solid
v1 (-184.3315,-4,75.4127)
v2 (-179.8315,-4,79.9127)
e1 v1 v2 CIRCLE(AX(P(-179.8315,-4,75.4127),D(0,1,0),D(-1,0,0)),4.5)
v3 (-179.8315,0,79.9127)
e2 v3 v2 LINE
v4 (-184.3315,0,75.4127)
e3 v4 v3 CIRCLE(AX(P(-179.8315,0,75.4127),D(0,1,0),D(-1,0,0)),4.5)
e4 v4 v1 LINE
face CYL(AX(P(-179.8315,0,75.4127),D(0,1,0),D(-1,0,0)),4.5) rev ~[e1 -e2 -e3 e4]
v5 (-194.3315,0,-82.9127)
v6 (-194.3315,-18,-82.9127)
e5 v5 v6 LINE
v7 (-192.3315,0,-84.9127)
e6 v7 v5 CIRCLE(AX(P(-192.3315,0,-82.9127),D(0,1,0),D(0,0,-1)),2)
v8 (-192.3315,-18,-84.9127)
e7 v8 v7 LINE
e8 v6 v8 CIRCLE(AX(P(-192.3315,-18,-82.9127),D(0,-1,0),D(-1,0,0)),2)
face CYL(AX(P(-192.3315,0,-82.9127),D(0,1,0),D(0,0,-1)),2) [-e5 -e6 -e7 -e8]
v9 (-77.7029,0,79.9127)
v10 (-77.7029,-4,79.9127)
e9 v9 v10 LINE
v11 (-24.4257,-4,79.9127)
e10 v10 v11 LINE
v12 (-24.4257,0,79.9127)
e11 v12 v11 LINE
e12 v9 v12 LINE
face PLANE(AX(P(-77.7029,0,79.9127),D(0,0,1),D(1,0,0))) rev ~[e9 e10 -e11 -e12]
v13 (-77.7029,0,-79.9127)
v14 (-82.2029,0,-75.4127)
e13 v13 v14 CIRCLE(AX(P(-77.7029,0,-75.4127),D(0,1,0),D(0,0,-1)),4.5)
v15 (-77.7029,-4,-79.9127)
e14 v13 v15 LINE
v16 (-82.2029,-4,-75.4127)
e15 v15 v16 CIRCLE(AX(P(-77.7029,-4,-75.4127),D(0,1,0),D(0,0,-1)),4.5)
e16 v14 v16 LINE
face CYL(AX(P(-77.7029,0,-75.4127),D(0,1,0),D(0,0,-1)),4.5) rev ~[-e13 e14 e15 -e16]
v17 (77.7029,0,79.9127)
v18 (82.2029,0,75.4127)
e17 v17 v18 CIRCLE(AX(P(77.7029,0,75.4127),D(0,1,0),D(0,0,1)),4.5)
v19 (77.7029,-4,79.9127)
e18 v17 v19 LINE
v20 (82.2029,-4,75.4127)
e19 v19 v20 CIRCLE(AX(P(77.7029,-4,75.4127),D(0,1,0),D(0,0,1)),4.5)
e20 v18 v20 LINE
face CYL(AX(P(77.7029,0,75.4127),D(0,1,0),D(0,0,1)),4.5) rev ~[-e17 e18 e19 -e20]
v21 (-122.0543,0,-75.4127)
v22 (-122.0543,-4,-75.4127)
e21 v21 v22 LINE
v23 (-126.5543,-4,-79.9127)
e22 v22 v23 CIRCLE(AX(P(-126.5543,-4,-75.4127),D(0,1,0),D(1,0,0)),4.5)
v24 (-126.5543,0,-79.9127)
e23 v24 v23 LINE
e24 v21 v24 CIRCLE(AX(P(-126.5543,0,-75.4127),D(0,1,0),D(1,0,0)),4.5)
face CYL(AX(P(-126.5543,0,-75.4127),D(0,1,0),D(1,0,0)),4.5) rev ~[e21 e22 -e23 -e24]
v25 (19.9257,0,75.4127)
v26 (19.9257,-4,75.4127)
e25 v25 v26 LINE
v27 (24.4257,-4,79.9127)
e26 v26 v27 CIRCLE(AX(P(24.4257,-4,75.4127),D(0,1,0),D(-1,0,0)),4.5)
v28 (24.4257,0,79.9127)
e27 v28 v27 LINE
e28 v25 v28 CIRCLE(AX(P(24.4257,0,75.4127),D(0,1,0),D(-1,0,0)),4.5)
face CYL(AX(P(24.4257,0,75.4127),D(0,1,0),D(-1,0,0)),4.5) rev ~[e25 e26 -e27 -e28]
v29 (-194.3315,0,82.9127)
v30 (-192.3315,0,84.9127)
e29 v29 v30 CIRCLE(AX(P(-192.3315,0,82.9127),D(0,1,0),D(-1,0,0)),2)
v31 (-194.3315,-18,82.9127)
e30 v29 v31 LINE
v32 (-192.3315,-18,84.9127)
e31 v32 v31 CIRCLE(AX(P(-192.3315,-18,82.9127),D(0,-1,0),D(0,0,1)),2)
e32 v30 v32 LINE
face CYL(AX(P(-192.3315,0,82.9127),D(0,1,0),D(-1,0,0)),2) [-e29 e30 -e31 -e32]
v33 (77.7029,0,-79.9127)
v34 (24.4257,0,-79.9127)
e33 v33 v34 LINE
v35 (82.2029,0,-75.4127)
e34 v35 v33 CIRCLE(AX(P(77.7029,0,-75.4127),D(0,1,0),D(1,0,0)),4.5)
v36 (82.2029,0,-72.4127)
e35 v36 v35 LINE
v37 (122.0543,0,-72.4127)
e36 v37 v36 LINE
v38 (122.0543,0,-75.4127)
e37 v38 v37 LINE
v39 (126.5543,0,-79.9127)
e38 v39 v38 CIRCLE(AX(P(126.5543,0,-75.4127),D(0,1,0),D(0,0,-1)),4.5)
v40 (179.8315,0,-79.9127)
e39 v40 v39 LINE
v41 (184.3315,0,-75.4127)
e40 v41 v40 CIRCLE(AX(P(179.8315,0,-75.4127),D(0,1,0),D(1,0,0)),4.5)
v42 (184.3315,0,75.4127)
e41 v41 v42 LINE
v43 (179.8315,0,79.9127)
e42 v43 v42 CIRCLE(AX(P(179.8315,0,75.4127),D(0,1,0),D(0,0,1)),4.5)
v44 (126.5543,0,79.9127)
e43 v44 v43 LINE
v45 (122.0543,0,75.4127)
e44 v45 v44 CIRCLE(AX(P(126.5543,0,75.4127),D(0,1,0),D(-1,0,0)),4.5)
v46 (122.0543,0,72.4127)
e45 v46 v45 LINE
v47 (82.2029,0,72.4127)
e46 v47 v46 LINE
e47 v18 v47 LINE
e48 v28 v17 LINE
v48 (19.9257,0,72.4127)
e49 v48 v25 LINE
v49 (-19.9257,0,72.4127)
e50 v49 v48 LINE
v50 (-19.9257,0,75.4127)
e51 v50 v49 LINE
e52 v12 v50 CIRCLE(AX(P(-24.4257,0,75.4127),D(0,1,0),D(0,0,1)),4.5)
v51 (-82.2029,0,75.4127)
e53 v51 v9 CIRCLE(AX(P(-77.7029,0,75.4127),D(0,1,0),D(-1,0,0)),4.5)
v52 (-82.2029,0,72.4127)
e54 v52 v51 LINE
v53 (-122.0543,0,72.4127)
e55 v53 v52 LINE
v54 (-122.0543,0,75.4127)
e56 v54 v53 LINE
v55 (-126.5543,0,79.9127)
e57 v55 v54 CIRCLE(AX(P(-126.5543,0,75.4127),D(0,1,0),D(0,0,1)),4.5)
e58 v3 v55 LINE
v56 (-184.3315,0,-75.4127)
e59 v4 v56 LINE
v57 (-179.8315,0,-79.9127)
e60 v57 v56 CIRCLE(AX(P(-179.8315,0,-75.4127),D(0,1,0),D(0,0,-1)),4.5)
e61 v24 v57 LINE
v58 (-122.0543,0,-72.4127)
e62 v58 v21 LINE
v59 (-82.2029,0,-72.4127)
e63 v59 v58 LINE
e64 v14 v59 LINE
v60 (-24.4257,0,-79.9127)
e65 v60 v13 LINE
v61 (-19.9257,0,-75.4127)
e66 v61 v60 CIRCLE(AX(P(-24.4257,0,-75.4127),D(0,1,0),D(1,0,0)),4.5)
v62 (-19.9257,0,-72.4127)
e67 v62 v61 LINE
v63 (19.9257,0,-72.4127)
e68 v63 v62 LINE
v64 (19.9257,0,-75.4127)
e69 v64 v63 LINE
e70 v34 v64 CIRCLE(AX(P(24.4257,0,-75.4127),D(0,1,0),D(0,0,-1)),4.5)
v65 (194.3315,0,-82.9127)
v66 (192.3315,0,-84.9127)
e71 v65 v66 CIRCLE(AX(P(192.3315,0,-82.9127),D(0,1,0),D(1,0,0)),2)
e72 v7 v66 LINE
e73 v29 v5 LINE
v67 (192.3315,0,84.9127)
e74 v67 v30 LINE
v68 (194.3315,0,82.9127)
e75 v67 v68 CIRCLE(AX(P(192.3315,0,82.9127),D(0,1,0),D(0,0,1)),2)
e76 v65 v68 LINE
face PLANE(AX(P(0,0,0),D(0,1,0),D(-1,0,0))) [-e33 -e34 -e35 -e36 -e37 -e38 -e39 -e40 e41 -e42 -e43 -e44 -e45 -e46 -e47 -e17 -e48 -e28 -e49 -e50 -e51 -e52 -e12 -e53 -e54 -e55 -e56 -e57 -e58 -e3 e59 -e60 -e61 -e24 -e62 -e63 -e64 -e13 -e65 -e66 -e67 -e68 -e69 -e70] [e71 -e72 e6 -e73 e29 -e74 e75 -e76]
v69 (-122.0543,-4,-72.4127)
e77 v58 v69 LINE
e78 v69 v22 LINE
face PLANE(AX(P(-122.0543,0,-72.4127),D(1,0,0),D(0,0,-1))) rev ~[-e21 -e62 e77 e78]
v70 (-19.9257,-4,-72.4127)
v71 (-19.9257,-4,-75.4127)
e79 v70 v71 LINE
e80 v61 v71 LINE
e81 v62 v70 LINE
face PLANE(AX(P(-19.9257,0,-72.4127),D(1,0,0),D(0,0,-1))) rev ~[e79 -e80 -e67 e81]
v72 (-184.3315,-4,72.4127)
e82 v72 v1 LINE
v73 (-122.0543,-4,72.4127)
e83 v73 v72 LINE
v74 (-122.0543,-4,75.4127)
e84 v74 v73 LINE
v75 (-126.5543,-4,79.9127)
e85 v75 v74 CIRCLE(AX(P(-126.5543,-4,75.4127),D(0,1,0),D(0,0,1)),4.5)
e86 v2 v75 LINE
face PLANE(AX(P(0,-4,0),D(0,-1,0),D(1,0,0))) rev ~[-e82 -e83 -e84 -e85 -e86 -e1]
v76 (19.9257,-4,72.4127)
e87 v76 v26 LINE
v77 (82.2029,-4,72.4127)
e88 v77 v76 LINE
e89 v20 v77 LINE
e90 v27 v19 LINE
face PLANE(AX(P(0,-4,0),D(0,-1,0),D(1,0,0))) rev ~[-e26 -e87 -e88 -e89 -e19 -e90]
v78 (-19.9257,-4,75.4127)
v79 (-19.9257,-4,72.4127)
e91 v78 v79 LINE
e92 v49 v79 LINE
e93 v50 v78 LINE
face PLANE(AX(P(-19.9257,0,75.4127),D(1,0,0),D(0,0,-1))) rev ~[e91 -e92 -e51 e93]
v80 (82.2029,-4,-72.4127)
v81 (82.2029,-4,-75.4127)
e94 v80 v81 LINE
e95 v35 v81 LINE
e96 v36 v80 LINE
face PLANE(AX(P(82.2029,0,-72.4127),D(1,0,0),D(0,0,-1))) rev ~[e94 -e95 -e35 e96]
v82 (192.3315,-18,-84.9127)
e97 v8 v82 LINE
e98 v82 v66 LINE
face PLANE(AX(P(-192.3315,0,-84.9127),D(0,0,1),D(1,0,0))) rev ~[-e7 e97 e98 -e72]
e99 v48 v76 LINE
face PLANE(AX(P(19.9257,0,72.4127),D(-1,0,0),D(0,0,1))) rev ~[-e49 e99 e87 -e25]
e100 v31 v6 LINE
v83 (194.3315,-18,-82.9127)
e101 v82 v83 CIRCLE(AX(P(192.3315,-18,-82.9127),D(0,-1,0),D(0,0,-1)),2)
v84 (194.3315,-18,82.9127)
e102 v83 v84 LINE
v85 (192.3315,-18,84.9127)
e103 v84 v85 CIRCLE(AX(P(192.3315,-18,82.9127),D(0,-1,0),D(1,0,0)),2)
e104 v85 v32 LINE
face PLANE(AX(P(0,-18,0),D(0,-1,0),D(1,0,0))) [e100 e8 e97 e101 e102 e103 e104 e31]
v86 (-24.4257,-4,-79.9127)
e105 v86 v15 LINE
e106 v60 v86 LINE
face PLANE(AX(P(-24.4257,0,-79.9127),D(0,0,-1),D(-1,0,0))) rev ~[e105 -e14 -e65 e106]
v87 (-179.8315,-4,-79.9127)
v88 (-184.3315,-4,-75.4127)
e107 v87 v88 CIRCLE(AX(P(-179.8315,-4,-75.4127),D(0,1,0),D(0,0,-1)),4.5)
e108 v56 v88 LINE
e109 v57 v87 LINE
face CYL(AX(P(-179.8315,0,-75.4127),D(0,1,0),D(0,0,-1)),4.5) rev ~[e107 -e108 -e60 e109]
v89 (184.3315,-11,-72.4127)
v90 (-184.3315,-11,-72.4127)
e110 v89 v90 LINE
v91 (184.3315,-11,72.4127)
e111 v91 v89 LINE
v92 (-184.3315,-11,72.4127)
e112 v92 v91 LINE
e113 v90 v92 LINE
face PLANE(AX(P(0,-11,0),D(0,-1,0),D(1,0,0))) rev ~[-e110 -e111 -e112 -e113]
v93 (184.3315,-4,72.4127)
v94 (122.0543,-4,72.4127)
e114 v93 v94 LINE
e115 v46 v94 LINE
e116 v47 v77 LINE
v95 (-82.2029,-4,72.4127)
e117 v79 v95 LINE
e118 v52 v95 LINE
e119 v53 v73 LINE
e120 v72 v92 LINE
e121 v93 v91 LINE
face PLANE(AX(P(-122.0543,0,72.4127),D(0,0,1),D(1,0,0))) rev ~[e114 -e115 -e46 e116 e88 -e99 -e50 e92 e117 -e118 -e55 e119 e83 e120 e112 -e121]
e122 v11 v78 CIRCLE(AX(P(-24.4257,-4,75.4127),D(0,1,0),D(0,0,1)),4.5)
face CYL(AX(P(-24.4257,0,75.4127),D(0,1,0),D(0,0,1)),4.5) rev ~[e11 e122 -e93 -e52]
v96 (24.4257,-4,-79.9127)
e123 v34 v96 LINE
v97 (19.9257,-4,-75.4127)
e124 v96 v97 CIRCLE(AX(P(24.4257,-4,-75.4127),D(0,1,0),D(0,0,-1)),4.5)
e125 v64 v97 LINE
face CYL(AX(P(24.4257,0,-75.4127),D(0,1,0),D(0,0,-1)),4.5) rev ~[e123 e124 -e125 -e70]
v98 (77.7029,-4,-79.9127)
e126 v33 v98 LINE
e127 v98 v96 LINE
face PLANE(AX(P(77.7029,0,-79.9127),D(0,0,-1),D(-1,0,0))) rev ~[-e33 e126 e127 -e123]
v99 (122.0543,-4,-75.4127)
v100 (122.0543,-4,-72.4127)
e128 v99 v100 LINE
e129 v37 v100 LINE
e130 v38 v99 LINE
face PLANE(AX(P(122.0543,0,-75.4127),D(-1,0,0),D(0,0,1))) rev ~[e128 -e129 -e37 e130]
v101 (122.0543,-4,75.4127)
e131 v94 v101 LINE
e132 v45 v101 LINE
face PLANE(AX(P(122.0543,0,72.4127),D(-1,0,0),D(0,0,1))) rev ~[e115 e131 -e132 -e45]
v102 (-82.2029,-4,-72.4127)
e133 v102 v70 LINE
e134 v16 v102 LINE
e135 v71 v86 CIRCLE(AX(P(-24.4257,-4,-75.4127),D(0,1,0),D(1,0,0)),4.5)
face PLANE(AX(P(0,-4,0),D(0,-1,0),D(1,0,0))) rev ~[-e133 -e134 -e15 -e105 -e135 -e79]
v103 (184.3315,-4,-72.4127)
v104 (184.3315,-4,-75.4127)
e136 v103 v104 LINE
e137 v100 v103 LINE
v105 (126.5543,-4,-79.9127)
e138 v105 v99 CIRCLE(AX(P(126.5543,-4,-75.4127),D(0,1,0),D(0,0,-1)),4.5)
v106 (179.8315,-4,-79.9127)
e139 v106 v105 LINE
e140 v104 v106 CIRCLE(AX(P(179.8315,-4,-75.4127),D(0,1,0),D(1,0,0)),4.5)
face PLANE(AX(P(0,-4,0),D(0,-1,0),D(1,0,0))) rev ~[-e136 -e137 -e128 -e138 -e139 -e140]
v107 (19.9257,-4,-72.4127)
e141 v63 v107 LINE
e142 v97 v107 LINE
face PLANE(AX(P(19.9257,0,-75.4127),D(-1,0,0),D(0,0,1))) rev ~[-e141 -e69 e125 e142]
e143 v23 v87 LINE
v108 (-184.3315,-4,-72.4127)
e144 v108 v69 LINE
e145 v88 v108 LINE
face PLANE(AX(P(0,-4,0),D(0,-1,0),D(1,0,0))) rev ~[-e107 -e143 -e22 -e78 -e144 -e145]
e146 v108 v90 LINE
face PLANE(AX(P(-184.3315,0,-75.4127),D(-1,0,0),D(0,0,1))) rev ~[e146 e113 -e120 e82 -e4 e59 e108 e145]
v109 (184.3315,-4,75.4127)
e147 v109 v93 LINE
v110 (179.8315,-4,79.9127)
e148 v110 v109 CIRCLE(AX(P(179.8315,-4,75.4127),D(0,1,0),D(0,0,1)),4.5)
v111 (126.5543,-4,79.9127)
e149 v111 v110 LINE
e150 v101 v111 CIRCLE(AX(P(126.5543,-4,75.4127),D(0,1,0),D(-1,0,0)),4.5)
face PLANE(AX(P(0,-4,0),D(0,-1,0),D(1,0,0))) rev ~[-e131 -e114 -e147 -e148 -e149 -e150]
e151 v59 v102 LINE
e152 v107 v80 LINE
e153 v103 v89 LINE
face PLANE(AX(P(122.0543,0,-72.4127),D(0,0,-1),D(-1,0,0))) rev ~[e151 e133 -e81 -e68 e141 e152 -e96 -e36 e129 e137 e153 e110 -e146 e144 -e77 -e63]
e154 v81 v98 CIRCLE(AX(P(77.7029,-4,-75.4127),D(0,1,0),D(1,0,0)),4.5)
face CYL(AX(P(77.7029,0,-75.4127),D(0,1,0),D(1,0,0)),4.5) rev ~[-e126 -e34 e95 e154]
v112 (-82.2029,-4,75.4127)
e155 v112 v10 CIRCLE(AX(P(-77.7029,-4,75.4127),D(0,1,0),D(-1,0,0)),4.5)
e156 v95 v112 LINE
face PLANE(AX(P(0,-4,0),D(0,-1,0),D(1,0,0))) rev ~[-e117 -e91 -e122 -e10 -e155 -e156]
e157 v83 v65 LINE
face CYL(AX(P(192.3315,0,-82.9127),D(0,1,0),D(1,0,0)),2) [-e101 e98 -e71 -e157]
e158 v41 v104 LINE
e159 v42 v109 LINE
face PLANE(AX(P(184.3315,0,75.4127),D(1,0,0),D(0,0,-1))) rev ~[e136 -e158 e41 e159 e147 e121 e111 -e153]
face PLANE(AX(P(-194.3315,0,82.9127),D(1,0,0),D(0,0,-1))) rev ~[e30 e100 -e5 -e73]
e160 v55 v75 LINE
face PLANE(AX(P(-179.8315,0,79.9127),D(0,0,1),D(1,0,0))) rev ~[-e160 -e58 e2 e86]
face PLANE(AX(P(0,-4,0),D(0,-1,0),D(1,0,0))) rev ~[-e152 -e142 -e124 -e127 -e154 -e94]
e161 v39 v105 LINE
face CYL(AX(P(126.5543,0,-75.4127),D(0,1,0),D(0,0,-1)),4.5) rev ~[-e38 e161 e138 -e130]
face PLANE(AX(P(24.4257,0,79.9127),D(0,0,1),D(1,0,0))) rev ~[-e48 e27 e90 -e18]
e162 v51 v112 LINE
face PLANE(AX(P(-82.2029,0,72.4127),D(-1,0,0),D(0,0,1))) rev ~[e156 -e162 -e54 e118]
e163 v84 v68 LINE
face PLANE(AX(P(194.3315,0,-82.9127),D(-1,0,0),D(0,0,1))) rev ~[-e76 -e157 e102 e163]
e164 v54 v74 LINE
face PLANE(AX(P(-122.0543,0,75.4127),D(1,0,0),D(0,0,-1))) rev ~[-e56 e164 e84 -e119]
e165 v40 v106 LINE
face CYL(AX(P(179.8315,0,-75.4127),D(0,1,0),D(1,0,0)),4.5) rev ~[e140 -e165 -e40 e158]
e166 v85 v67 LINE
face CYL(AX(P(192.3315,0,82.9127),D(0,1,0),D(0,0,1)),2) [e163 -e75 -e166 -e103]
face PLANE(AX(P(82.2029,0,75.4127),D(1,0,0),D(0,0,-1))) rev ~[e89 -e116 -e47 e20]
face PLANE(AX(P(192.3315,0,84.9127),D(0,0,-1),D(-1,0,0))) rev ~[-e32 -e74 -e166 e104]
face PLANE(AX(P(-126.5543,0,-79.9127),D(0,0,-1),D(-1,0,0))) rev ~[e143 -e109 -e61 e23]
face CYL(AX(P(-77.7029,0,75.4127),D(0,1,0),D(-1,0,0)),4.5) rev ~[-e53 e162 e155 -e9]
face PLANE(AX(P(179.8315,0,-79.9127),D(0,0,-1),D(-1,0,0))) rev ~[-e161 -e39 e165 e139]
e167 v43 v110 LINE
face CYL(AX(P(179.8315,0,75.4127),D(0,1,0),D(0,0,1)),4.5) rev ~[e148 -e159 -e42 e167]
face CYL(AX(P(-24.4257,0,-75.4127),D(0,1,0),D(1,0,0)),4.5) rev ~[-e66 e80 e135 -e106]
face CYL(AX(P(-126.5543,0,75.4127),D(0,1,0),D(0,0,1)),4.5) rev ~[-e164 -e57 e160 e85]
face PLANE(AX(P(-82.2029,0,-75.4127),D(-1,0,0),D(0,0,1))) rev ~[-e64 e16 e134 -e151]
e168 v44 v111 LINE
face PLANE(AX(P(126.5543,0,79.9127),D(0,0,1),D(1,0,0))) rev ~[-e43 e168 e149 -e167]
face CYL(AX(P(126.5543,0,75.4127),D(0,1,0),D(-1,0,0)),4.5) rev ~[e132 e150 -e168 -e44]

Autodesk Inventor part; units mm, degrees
ref_plane "YZ Plane" through (0, 0, 0) normal (1, 0, 0) x (0, 1, 0)
ref_plane "XZ Plane" through (0, 0, 0) normal (0, 1, 0) x (-1, 0, 0)
ref_plane "XY Plane" through (0, 0, 0) normal (0, 0, 1) x (1, 0, 0)
sketch "Sketch1" plane through (0, 0, 0) normal (0, 1, 0) x (-1, 0, 0)
  line L0 (183.8315, -67.9127) -> (183.8315, 67.9127) construction
  line L1 (-179.8315, 79.4127) -> (-126.5543, 79.4127) construction
  line L2 (-122.5543, 75.4127) -> (-122.5543, 71.9127) construction
  line L3 (-81.7029, 71.9127) -> (-81.7029, 75.4127) construction
  line L4 (-77.7029, 79.4127) -> (-24.4257, 79.4127) construction
  line L5 (-20.4257, 75.4127) -> (-20.4257, 71.9127) construction
  line L6 (20.4257, 71.9127) -> (20.4257, 75.4127) construction
  line L7 (24.4257, 79.4127) -> (77.7029, 79.4127) construction
  line L8 (81.7029, 75.4127) -> (81.7029, 71.9127) construction
  line L9 (122.5543, 71.9127) -> (122.5543, 75.4127) construction
  line L10 (126.5543, 79.4127) -> (179.8315, 79.4127) construction
  line L11 (183.8315, 75.4127) -> (183.8315, 71.9127) construction
  line L12 (-126.5543, -79.4127) -> (-179.8315, -79.4127) construction
  line L13 (-183.8315, -75.4127) -> (-183.8315, -71.9127) construction
  line L14 (-122.5543, -71.9127) -> (-122.5543, -75.4127) construction
  line L15 (-81.7029, -75.4127) -> (-81.7029, -71.9127) construction
  line L16 (-24.4257, -79.4127) -> (-77.7029, -79.4127) construction
  line L17 (-20.4257, -71.9127) -> (-20.4257, -75.4127) construction
  line L18 (20.4257, -75.4127) -> (20.4257, -71.9127) construction
  line L19 (77.7029, -79.4127) -> (24.4257, -79.4127) construction
  line L20 (81.7029, -71.9127) -> (81.7029, -75.4127) construction
  line L21 (122.5543, -75.4127) -> (122.5543, -71.9127) construction
  line L22 (179.8315, -79.4127) -> (126.5543, -79.4127) construction
  line L23 (183.8315, -71.9127) -> (183.8315, -75.4127) construction
  line L24 (-122.5543, -71.9127) -> (-81.7029, -71.9127) construction
  line L25 (-20.4257, -71.9127) -> (20.4257, -71.9127) construction
  line L26 (81.7029, -71.9127) -> (122.5543, -71.9127) construction
  arc A0 (-183.8315, -75.4127) -> (-179.8315, -79.4127) centre (-179.8315, -75.4127) ccw construction
  arc A1 (-126.5543, -79.4127) -> (-122.5543, -75.4127) centre (-126.5543, -75.4127) ccw construction
  arc A2 (-81.7029, -75.4127) -> (-77.7029, -79.4127) centre (-77.7029, -75.4127) ccw construction
  arc A3 (-24.4257, -79.4127) -> (-20.4257, -75.4127) centre (-24.4257, -75.4127) ccw construction
  arc A4 (20.4257, -75.4127) -> (24.4257, -79.4127) centre (24.4257, -75.4127) ccw construction
  arc A5 (77.7029, -79.4127) -> (81.7029, -75.4127) centre (77.7029, -75.4127) ccw construction
  arc A6 (122.5543, -75.4127) -> (126.5543, -79.4127) centre (126.5543, -75.4127) ccw construction
  arc A7 (179.8315, -79.4127) -> (183.8315, -75.4127) centre (179.8315, -75.4127) ccw construction
  line L27 (183.8315, -67.9127) -> (183.8315, -71.9127) construction
  arc A8 (-179.8315, 79.4127) -> (-183.8315, 75.4127) centre (-179.8315, 75.4127) ccw construction
  arc A9 (-122.5543, 75.4127) -> (-126.5543, 79.4127) centre (-126.5543, 75.4127) ccw construction
  line L28 (-81.7029, 71.9127) -> (-122.5543, 71.9127) construction
  line L29 (20.4257, 71.9127) -> (-20.4257, 71.9127) construction
  line L30 (122.5543, 71.9127) -> (81.7029, 71.9127) construction
  line L31 (183.8315, 71.9127) -> (183.8315, 67.9127) construction
  arc A10 (-77.7029, 79.4127) -> (-81.7029, 75.4127) centre (-77.7029, 75.4127) ccw construction
  arc A11 (-20.4257, 75.4127) -> (-24.4257, 79.4127) centre (-24.4257, 75.4127) ccw construction
  arc A12 (24.4257, 79.4127) -> (20.4257, 75.4127) centre (24.4257, 75.4127) ccw construction
  arc A13 (81.7029, 75.4127) -> (77.7029, 79.4127) centre (77.7029, 75.4127) ccw construction
  arc A14 (126.5543, 79.4127) -> (122.5543, 75.4127) centre (126.5543, 75.4127) ccw construction
  arc A15 (183.8315, 75.4127) -> (179.8315, 79.4127) centre (179.8315, 75.4127) ccw construction
  line L32 (-183.8315, 75.4127) -> (-183.8315, -71.9127) construction
  line L33 (-126.5543, 79.9127) -> (-179.8315, 79.9127)
  arc A16 (-179.8315, 79.9127) -> (-184.3315, 75.4127) centre (-179.8315, 75.4127) ccw
  line L34 (-184.3315, 75.4127) -> (-184.3315, -71.9127)
  line L35 (-184.3315, -71.9127) -> (-184.3315, -75.4127)
  arc A17 (-184.3315, -75.4127) -> (-179.8315, -79.9127) centre (-179.8315, -75.4127) ccw
  line L36 (-179.8315, -79.9127) -> (-126.5543, -79.9127)
  arc A18 (-126.5543, -79.9127) -> (-122.0543, -75.4127) centre (-126.5543, -75.4127) ccw
  line L37 (-122.0543, -75.4127) -> (-122.0543, -72.4127)
  line L38 (-122.0543, -72.4127) -> (-82.2029, -72.4127)
  line L39 (-82.2029, -72.4127) -> (-82.2029, -75.4127)
  arc A19 (-82.2029, -75.4127) -> (-77.7029, -79.9127) centre (-77.7029, -75.4127) ccw
  line L40 (-77.7029, -79.9127) -> (-24.4257, -79.9127)
  arc A20 (-24.4257, -79.9127) -> (-19.9257, -75.4127) centre (-24.4257, -75.4127) ccw
  line L41 (-19.9257, -75.4127) -> (-19.9257, -72.4127)
  line L42 (-19.9257, -72.4127) -> (19.9257, -72.4127)
  line L43 (19.9257, -72.4127) -> (19.9257, -75.4127)
  arc A21 (19.9257, -75.4127) -> (24.4257, -79.9127) centre (24.4257, -75.4127) ccw
  line L44 (24.4257, -79.9127) -> (77.7029, -79.9127)
  arc A22 (77.7029, -79.9127) -> (82.2029, -75.4127) centre (77.7029, -75.4127) ccw
  line L45 (82.2029, -75.4127) -> (82.2029, -72.4127)
  line L46 (82.2029, -72.4127) -> (122.0543, -72.4127)
  line L47 (122.0543, -72.4127) -> (122.0543, -75.4127)
  arc A23 (122.0543, -75.4127) -> (126.5543, -79.9127) centre (126.5543, -75.4127) ccw
  line L48 (126.5543, -79.9127) -> (179.8315, -79.9127)
  arc A24 (179.8315, -79.9127) -> (184.3315, -75.4127) centre (179.8315, -75.4127) ccw
  line L49 (184.3315, -75.4127) -> (184.3315, -71.9127)
  line L50 (184.3315, -71.9127) -> (184.3315, -67.9127)
  line L51 (184.3315, -67.9127) -> (184.3315, 67.9127)
  line L52 (184.3315, 67.9127) -> (184.3315, 71.9127)
  line L53 (184.3315, 71.9127) -> (184.3315, 75.4127)
  arc A25 (184.3315, 75.4127) -> (179.8315, 79.9127) centre (179.8315, 75.4127) ccw
  line L54 (179.8315, 79.9127) -> (126.5543, 79.9127)
  arc A26 (126.5543, 79.9127) -> (122.0543, 75.4127) centre (126.5543, 75.4127) ccw
  line L55 (122.0543, 75.4127) -> (122.0543, 72.4127)
  line L56 (122.0543, 72.4127) -> (82.2029, 72.4127)
  line L57 (82.2029, 72.4127) -> (82.2029, 75.4127)
  arc A27 (82.2029, 75.4127) -> (77.7029, 79.9127) centre (77.7029, 75.4127) ccw
  line L58 (77.7029, 79.9127) -> (24.4257, 79.9127)
  arc A28 (24.4257, 79.9127) -> (19.9257, 75.4127) centre (24.4257, 75.4127) ccw
  line L59 (19.9257, 75.4127) -> (19.9257, 72.4127)
  line L60 (19.9257, 72.4127) -> (-19.9257, 72.4127)
  line L61 (-19.9257, 72.4127) -> (-19.9257, 75.4127)
  arc A29 (-19.9257, 75.4127) -> (-24.4257, 79.9127) centre (-24.4257, 75.4127) ccw
  line L62 (-24.4257, 79.9127) -> (-77.7029, 79.9127)
  arc A30 (-77.7029, 79.9127) -> (-82.2029, 75.4127) centre (-77.7029, 75.4127) ccw
  line L63 (-82.2029, 75.4127) -> (-82.2029, 72.4127)
  line L64 (-82.2029, 72.4127) -> (-122.0543, 72.4127)
  line L65 (-122.0543, 72.4127) -> (-122.0543, 75.4127)
  arc A31 (-122.0543, 75.4127) -> (-126.5543, 79.9127) centre (-126.5543, 75.4127) ccw
  line L66 (-179.8315, 75.4127) -> (179.8315, -75.4127) construction
  line L67 (179.8315, 75.4127) -> (-179.8315, -75.4127) construction
  line L68 (-192.3315, 84.9127) -> (192.3315, 84.9127)
  line L69 (194.3315, 82.9127) -> (194.3315, -82.9127)
  line L70 (192.3315, -84.9127) -> (-192.3315, -84.9127)
  line L71 (-194.3315, -82.9127) -> (-194.3315, 82.9127)
  line L72 (-194.3315, 84.9127) -> (194.3315, -84.9127) construction
  line L73 (194.3315, 84.9127) -> (-194.3315, -84.9127) construction
  arc A32 (-192.3315, 84.9127) -> (-194.3315, 82.9127) centre (-192.3315, 82.9127) ccw
  arc A33 (194.3315, 82.9127) -> (192.3315, 84.9127) centre (192.3315, 82.9127) ccw
  arc A34 (192.3315, -84.9127) -> (194.3315, -82.9127) centre (192.3315, -82.9127) ccw
  arc A35 (-194.3315, -82.9127) -> (-192.3315, -84.9127) centre (-192.3315, -82.9127) ccw
  point P0 (0, 0)
  point P1 (0, 0)
  dimension "d9" = 4
  dimension "d10" = 4
  dimension "d11" = 4
  dimension "d12" = 4
  dimension "d13" = 0.5
  dimension "d16" = 159.8253
  dimension "d17" = 368.6629
  dimension "d18" = 388.6629
  dimension "d19" = 169.8253
  dimension "d20" = 2
extrude "Extrusion1" add sketch "Sketch1" against normal blind 4
sketch "Sketch2" plane through (0, -4, 0) normal (0, -1, 0) x (1, 0, 0)
  line L0 (-192.3315, -84.9127) -> (192.3315, -84.9127) projected
  arc A0 (192.3315, -84.9127) -> (194.3315, -82.9127) centre (192.3315, -82.9127) ccw projected
  line L1 (194.3315, -82.9127) -> (194.3315, 82.9127) projected
  arc A1 (194.3315, 82.9127) -> (192.3315, 84.9127) centre (192.3315, 82.9127) ccw projected
  line L2 (192.3315, 84.9127) -> (-192.3315, 84.9127) projected
  arc A2 (-192.3315, 84.9127) -> (-194.3315, 82.9127) centre (-192.3315, 82.9127) ccw projected
  line L3 (-194.3315, 82.9127) -> (-194.3315, -82.9127) projected
  arc A3 (-194.3315, -82.9127) -> (-192.3315, -84.9127) centre (-192.3315, -82.9127) ccw projected
  arc A4 (126.5543, 79.9127) -> (122.0543, 75.4127) centre (126.5543, 75.4127) ccw projected
  line L4 (126.5543, 79.9127) -> (179.8315, 79.9127) projected
  arc A5 (184.3315, 75.4127) -> (179.8315, 79.9127) centre (179.8315, 75.4127) ccw projected
  line L5 (184.3315, 75.4127) -> (184.3315, -75.4127) projected
  arc A6 (179.8315, -79.9127) -> (184.3315, -75.4127) centre (179.8315, -75.4127) ccw projected
  line L6 (179.8315, -79.9127) -> (126.5543, -79.9127) projected
  arc A7 (122.0543, -75.4127) -> (126.5543, -79.9127) centre (126.5543, -75.4127) ccw projected
  line L7 (122.0543, -75.4127) -> (122.0543, -72.4127) projected
  line L8 (122.0543, -72.4127) -> (82.2029, -72.4127) projected
  line L9 (82.2029, -72.4127) -> (82.2029, -75.4127) projected
  arc A8 (77.7029, -79.9127) -> (82.2029, -75.4127) centre (77.7029, -75.4127) ccw projected
  line L10 (77.7029, -79.9127) -> (24.4257, -79.9127) projected
  arc A9 (19.9257, -75.4127) -> (24.4257, -79.9127) centre (24.4257, -75.4127) ccw projected
  line L11 (19.9257, -75.4127) -> (19.9257, -72.4127) projected
  line L12 (19.9257, -72.4127) -> (-19.9257, -72.4127) projected
  line L13 (-19.9257, -72.4127) -> (-19.9257, -75.4127) projected
  arc A10 (-24.4257, -79.9127) -> (-19.9257, -75.4127) centre (-24.4257, -75.4127) ccw projected
  line L14 (-24.4257, -79.9127) -> (-77.7029, -79.9127) projected
  arc A11 (-82.2029, -75.4127) -> (-77.7029, -79.9127) centre (-77.7029, -75.4127) ccw projected
  line L15 (-82.2029, -75.4127) -> (-82.2029, -72.4127) projected
  line L16 (-82.2029, -72.4127) -> (-122.0543, -72.4127) projected
  line L17 (-122.0543, -72.4127) -> (-122.0543, -75.4127) projected
  arc A12 (-126.5543, -79.9127) -> (-122.0543, -75.4127) centre (-126.5543, -75.4127) ccw projected
  line L18 (-126.5543, -79.9127) -> (-179.8315, -79.9127) projected
  arc A13 (-184.3315, -75.4127) -> (-179.8315, -79.9127) centre (-179.8315, -75.4127) ccw projected
  line L19 (-184.3315, -75.4127) -> (-184.3315, 75.4127) projected
  arc A14 (-179.8315, 79.9127) -> (-184.3315, 75.4127) centre (-179.8315, 75.4127) ccw projected
  line L20 (-179.8315, 79.9127) -> (-126.5543, 79.9127) projected
  arc A15 (-122.0543, 75.4127) -> (-126.5543, 79.9127) centre (-126.5543, 75.4127) ccw projected
  line L21 (-122.0543, 75.4127) -> (-122.0543, 72.4127) projected
  line L22 (-122.0543, 72.4127) -> (-82.2029, 72.4127) projected
  line L23 (-82.2029, 72.4127) -> (-82.2029, 75.4127) projected
  arc A16 (-77.7029, 79.9127) -> (-82.2029, 75.4127) centre (-77.7029, 75.4127) ccw projected
  line L24 (-77.7029, 79.9127) -> (-24.4257, 79.9127) projected
  arc A17 (-19.9257, 75.4127) -> (-24.4257, 79.9127) centre (-24.4257, 75.4127) ccw projected
  line L25 (-19.9257, 75.4127) -> (-19.9257, 72.4127) projected
  line L26 (-19.9257, 72.4127) -> (19.9257, 72.4127) projected
  line L27 (19.9257, 72.4127) -> (19.9257, 75.4127) projected
  arc A18 (24.4257, 79.9127) -> (19.9257, 75.4127) centre (24.4257, 75.4127) ccw projected
  line L28 (24.4257, 79.9127) -> (77.7029, 79.9127) projected
  arc A19 (82.2029, 75.4127) -> (77.7029, 79.9127) centre (77.7029, 75.4127) ccw projected
  line L29 (82.2029, 75.4127) -> (82.2029, 72.4127) projected
  line L30 (82.2029, 72.4127) -> (122.0543, 72.4127) projected
  line L31 (122.0543, 72.4127) -> (122.0543, 75.4127) projected
  line L32 (-184.3315, -75.4127) -> (-184.3315, 75.4127) projected
  line L33 (184.3315, 75.4127) -> (184.3315, -75.4127) projected
  line L34 (-184.3315, 72.4127) -> (184.3315, 72.4127)
  line L35 (184.3315, 72.4127) -> (184.3315, -72.4127)
  line L36 (184.3315, -72.4127) -> (-184.3315, -72.4127)
  line L37 (-184.3315, -72.4127) -> (-184.3315, 72.4127)
  point P0 (0, 0)
extrude "Extrusion2" add sketch "Sketch2" along normal blind 7 contours A3 L3 A2 L2 A1 L1 A0 L0 | L4 A5 L5 L34 L31 A4 | L34 L27 A18 L28 A19 L29 | L5 A6 L6 A7 L7 L36 | L34 L23 A16 L24 A17 L25 | L9 A8 L10 A9 L11 L36 | L34 L19 A14 L20 A15 L21 | L13 A10 L14 A11 L15 L36 | L36 L17 A12 L18 A13 L19
sketch "Sketch3" plane through (0, -11, 0) normal (0, -1, 0) x (1, 0, 0)
  arc A0 (192.3315, -84.9127) -> (194.3315, -82.9127) centre (192.3315, -82.9127) ccw projected
  line L0 (194.3315, -82.9127) -> (194.3315, 82.9127) projected
  arc A1 (194.3315, 82.9127) -> (192.3315, 84.9127) centre (192.3315, 82.9127) ccw projected
  line L1 (192.3315, 84.9127) -> (-192.3315, 84.9127) projected
  arc A2 (-192.3315, 84.9127) -> (-194.3315, 82.9127) centre (-192.3315, 82.9127) ccw projected
  line L2 (-194.3315, 82.9127) -> (-194.3315, -82.9127) projected
  arc A3 (-194.3315, -82.9127) -> (-192.3315, -84.9127) centre (-192.3315, -82.9127) ccw projected
  line L3 (-192.3315, -84.9127) -> (192.3315, -84.9127) projected
  line L4 (184.3315, 72.4127) -> (184.3315, -72.4127) projected
  line L5 (184.3315, -72.4127) -> (-184.3315, -72.4127) projected
  line L6 (-184.3315, -72.4127) -> (-184.3315, 72.4127) projected
  line L7 (-184.3315, 72.4127) -> (184.3315, 72.4127) projected
  point P0 (0, 0)
extrude "Extrusion3" add sketch "Sketch3" along normal blind 7 contours L3 A3 L2 A2 L1 A1 L0 A0 | L4 L5 L6 L7
properties part number "kbbottombodyethan"
